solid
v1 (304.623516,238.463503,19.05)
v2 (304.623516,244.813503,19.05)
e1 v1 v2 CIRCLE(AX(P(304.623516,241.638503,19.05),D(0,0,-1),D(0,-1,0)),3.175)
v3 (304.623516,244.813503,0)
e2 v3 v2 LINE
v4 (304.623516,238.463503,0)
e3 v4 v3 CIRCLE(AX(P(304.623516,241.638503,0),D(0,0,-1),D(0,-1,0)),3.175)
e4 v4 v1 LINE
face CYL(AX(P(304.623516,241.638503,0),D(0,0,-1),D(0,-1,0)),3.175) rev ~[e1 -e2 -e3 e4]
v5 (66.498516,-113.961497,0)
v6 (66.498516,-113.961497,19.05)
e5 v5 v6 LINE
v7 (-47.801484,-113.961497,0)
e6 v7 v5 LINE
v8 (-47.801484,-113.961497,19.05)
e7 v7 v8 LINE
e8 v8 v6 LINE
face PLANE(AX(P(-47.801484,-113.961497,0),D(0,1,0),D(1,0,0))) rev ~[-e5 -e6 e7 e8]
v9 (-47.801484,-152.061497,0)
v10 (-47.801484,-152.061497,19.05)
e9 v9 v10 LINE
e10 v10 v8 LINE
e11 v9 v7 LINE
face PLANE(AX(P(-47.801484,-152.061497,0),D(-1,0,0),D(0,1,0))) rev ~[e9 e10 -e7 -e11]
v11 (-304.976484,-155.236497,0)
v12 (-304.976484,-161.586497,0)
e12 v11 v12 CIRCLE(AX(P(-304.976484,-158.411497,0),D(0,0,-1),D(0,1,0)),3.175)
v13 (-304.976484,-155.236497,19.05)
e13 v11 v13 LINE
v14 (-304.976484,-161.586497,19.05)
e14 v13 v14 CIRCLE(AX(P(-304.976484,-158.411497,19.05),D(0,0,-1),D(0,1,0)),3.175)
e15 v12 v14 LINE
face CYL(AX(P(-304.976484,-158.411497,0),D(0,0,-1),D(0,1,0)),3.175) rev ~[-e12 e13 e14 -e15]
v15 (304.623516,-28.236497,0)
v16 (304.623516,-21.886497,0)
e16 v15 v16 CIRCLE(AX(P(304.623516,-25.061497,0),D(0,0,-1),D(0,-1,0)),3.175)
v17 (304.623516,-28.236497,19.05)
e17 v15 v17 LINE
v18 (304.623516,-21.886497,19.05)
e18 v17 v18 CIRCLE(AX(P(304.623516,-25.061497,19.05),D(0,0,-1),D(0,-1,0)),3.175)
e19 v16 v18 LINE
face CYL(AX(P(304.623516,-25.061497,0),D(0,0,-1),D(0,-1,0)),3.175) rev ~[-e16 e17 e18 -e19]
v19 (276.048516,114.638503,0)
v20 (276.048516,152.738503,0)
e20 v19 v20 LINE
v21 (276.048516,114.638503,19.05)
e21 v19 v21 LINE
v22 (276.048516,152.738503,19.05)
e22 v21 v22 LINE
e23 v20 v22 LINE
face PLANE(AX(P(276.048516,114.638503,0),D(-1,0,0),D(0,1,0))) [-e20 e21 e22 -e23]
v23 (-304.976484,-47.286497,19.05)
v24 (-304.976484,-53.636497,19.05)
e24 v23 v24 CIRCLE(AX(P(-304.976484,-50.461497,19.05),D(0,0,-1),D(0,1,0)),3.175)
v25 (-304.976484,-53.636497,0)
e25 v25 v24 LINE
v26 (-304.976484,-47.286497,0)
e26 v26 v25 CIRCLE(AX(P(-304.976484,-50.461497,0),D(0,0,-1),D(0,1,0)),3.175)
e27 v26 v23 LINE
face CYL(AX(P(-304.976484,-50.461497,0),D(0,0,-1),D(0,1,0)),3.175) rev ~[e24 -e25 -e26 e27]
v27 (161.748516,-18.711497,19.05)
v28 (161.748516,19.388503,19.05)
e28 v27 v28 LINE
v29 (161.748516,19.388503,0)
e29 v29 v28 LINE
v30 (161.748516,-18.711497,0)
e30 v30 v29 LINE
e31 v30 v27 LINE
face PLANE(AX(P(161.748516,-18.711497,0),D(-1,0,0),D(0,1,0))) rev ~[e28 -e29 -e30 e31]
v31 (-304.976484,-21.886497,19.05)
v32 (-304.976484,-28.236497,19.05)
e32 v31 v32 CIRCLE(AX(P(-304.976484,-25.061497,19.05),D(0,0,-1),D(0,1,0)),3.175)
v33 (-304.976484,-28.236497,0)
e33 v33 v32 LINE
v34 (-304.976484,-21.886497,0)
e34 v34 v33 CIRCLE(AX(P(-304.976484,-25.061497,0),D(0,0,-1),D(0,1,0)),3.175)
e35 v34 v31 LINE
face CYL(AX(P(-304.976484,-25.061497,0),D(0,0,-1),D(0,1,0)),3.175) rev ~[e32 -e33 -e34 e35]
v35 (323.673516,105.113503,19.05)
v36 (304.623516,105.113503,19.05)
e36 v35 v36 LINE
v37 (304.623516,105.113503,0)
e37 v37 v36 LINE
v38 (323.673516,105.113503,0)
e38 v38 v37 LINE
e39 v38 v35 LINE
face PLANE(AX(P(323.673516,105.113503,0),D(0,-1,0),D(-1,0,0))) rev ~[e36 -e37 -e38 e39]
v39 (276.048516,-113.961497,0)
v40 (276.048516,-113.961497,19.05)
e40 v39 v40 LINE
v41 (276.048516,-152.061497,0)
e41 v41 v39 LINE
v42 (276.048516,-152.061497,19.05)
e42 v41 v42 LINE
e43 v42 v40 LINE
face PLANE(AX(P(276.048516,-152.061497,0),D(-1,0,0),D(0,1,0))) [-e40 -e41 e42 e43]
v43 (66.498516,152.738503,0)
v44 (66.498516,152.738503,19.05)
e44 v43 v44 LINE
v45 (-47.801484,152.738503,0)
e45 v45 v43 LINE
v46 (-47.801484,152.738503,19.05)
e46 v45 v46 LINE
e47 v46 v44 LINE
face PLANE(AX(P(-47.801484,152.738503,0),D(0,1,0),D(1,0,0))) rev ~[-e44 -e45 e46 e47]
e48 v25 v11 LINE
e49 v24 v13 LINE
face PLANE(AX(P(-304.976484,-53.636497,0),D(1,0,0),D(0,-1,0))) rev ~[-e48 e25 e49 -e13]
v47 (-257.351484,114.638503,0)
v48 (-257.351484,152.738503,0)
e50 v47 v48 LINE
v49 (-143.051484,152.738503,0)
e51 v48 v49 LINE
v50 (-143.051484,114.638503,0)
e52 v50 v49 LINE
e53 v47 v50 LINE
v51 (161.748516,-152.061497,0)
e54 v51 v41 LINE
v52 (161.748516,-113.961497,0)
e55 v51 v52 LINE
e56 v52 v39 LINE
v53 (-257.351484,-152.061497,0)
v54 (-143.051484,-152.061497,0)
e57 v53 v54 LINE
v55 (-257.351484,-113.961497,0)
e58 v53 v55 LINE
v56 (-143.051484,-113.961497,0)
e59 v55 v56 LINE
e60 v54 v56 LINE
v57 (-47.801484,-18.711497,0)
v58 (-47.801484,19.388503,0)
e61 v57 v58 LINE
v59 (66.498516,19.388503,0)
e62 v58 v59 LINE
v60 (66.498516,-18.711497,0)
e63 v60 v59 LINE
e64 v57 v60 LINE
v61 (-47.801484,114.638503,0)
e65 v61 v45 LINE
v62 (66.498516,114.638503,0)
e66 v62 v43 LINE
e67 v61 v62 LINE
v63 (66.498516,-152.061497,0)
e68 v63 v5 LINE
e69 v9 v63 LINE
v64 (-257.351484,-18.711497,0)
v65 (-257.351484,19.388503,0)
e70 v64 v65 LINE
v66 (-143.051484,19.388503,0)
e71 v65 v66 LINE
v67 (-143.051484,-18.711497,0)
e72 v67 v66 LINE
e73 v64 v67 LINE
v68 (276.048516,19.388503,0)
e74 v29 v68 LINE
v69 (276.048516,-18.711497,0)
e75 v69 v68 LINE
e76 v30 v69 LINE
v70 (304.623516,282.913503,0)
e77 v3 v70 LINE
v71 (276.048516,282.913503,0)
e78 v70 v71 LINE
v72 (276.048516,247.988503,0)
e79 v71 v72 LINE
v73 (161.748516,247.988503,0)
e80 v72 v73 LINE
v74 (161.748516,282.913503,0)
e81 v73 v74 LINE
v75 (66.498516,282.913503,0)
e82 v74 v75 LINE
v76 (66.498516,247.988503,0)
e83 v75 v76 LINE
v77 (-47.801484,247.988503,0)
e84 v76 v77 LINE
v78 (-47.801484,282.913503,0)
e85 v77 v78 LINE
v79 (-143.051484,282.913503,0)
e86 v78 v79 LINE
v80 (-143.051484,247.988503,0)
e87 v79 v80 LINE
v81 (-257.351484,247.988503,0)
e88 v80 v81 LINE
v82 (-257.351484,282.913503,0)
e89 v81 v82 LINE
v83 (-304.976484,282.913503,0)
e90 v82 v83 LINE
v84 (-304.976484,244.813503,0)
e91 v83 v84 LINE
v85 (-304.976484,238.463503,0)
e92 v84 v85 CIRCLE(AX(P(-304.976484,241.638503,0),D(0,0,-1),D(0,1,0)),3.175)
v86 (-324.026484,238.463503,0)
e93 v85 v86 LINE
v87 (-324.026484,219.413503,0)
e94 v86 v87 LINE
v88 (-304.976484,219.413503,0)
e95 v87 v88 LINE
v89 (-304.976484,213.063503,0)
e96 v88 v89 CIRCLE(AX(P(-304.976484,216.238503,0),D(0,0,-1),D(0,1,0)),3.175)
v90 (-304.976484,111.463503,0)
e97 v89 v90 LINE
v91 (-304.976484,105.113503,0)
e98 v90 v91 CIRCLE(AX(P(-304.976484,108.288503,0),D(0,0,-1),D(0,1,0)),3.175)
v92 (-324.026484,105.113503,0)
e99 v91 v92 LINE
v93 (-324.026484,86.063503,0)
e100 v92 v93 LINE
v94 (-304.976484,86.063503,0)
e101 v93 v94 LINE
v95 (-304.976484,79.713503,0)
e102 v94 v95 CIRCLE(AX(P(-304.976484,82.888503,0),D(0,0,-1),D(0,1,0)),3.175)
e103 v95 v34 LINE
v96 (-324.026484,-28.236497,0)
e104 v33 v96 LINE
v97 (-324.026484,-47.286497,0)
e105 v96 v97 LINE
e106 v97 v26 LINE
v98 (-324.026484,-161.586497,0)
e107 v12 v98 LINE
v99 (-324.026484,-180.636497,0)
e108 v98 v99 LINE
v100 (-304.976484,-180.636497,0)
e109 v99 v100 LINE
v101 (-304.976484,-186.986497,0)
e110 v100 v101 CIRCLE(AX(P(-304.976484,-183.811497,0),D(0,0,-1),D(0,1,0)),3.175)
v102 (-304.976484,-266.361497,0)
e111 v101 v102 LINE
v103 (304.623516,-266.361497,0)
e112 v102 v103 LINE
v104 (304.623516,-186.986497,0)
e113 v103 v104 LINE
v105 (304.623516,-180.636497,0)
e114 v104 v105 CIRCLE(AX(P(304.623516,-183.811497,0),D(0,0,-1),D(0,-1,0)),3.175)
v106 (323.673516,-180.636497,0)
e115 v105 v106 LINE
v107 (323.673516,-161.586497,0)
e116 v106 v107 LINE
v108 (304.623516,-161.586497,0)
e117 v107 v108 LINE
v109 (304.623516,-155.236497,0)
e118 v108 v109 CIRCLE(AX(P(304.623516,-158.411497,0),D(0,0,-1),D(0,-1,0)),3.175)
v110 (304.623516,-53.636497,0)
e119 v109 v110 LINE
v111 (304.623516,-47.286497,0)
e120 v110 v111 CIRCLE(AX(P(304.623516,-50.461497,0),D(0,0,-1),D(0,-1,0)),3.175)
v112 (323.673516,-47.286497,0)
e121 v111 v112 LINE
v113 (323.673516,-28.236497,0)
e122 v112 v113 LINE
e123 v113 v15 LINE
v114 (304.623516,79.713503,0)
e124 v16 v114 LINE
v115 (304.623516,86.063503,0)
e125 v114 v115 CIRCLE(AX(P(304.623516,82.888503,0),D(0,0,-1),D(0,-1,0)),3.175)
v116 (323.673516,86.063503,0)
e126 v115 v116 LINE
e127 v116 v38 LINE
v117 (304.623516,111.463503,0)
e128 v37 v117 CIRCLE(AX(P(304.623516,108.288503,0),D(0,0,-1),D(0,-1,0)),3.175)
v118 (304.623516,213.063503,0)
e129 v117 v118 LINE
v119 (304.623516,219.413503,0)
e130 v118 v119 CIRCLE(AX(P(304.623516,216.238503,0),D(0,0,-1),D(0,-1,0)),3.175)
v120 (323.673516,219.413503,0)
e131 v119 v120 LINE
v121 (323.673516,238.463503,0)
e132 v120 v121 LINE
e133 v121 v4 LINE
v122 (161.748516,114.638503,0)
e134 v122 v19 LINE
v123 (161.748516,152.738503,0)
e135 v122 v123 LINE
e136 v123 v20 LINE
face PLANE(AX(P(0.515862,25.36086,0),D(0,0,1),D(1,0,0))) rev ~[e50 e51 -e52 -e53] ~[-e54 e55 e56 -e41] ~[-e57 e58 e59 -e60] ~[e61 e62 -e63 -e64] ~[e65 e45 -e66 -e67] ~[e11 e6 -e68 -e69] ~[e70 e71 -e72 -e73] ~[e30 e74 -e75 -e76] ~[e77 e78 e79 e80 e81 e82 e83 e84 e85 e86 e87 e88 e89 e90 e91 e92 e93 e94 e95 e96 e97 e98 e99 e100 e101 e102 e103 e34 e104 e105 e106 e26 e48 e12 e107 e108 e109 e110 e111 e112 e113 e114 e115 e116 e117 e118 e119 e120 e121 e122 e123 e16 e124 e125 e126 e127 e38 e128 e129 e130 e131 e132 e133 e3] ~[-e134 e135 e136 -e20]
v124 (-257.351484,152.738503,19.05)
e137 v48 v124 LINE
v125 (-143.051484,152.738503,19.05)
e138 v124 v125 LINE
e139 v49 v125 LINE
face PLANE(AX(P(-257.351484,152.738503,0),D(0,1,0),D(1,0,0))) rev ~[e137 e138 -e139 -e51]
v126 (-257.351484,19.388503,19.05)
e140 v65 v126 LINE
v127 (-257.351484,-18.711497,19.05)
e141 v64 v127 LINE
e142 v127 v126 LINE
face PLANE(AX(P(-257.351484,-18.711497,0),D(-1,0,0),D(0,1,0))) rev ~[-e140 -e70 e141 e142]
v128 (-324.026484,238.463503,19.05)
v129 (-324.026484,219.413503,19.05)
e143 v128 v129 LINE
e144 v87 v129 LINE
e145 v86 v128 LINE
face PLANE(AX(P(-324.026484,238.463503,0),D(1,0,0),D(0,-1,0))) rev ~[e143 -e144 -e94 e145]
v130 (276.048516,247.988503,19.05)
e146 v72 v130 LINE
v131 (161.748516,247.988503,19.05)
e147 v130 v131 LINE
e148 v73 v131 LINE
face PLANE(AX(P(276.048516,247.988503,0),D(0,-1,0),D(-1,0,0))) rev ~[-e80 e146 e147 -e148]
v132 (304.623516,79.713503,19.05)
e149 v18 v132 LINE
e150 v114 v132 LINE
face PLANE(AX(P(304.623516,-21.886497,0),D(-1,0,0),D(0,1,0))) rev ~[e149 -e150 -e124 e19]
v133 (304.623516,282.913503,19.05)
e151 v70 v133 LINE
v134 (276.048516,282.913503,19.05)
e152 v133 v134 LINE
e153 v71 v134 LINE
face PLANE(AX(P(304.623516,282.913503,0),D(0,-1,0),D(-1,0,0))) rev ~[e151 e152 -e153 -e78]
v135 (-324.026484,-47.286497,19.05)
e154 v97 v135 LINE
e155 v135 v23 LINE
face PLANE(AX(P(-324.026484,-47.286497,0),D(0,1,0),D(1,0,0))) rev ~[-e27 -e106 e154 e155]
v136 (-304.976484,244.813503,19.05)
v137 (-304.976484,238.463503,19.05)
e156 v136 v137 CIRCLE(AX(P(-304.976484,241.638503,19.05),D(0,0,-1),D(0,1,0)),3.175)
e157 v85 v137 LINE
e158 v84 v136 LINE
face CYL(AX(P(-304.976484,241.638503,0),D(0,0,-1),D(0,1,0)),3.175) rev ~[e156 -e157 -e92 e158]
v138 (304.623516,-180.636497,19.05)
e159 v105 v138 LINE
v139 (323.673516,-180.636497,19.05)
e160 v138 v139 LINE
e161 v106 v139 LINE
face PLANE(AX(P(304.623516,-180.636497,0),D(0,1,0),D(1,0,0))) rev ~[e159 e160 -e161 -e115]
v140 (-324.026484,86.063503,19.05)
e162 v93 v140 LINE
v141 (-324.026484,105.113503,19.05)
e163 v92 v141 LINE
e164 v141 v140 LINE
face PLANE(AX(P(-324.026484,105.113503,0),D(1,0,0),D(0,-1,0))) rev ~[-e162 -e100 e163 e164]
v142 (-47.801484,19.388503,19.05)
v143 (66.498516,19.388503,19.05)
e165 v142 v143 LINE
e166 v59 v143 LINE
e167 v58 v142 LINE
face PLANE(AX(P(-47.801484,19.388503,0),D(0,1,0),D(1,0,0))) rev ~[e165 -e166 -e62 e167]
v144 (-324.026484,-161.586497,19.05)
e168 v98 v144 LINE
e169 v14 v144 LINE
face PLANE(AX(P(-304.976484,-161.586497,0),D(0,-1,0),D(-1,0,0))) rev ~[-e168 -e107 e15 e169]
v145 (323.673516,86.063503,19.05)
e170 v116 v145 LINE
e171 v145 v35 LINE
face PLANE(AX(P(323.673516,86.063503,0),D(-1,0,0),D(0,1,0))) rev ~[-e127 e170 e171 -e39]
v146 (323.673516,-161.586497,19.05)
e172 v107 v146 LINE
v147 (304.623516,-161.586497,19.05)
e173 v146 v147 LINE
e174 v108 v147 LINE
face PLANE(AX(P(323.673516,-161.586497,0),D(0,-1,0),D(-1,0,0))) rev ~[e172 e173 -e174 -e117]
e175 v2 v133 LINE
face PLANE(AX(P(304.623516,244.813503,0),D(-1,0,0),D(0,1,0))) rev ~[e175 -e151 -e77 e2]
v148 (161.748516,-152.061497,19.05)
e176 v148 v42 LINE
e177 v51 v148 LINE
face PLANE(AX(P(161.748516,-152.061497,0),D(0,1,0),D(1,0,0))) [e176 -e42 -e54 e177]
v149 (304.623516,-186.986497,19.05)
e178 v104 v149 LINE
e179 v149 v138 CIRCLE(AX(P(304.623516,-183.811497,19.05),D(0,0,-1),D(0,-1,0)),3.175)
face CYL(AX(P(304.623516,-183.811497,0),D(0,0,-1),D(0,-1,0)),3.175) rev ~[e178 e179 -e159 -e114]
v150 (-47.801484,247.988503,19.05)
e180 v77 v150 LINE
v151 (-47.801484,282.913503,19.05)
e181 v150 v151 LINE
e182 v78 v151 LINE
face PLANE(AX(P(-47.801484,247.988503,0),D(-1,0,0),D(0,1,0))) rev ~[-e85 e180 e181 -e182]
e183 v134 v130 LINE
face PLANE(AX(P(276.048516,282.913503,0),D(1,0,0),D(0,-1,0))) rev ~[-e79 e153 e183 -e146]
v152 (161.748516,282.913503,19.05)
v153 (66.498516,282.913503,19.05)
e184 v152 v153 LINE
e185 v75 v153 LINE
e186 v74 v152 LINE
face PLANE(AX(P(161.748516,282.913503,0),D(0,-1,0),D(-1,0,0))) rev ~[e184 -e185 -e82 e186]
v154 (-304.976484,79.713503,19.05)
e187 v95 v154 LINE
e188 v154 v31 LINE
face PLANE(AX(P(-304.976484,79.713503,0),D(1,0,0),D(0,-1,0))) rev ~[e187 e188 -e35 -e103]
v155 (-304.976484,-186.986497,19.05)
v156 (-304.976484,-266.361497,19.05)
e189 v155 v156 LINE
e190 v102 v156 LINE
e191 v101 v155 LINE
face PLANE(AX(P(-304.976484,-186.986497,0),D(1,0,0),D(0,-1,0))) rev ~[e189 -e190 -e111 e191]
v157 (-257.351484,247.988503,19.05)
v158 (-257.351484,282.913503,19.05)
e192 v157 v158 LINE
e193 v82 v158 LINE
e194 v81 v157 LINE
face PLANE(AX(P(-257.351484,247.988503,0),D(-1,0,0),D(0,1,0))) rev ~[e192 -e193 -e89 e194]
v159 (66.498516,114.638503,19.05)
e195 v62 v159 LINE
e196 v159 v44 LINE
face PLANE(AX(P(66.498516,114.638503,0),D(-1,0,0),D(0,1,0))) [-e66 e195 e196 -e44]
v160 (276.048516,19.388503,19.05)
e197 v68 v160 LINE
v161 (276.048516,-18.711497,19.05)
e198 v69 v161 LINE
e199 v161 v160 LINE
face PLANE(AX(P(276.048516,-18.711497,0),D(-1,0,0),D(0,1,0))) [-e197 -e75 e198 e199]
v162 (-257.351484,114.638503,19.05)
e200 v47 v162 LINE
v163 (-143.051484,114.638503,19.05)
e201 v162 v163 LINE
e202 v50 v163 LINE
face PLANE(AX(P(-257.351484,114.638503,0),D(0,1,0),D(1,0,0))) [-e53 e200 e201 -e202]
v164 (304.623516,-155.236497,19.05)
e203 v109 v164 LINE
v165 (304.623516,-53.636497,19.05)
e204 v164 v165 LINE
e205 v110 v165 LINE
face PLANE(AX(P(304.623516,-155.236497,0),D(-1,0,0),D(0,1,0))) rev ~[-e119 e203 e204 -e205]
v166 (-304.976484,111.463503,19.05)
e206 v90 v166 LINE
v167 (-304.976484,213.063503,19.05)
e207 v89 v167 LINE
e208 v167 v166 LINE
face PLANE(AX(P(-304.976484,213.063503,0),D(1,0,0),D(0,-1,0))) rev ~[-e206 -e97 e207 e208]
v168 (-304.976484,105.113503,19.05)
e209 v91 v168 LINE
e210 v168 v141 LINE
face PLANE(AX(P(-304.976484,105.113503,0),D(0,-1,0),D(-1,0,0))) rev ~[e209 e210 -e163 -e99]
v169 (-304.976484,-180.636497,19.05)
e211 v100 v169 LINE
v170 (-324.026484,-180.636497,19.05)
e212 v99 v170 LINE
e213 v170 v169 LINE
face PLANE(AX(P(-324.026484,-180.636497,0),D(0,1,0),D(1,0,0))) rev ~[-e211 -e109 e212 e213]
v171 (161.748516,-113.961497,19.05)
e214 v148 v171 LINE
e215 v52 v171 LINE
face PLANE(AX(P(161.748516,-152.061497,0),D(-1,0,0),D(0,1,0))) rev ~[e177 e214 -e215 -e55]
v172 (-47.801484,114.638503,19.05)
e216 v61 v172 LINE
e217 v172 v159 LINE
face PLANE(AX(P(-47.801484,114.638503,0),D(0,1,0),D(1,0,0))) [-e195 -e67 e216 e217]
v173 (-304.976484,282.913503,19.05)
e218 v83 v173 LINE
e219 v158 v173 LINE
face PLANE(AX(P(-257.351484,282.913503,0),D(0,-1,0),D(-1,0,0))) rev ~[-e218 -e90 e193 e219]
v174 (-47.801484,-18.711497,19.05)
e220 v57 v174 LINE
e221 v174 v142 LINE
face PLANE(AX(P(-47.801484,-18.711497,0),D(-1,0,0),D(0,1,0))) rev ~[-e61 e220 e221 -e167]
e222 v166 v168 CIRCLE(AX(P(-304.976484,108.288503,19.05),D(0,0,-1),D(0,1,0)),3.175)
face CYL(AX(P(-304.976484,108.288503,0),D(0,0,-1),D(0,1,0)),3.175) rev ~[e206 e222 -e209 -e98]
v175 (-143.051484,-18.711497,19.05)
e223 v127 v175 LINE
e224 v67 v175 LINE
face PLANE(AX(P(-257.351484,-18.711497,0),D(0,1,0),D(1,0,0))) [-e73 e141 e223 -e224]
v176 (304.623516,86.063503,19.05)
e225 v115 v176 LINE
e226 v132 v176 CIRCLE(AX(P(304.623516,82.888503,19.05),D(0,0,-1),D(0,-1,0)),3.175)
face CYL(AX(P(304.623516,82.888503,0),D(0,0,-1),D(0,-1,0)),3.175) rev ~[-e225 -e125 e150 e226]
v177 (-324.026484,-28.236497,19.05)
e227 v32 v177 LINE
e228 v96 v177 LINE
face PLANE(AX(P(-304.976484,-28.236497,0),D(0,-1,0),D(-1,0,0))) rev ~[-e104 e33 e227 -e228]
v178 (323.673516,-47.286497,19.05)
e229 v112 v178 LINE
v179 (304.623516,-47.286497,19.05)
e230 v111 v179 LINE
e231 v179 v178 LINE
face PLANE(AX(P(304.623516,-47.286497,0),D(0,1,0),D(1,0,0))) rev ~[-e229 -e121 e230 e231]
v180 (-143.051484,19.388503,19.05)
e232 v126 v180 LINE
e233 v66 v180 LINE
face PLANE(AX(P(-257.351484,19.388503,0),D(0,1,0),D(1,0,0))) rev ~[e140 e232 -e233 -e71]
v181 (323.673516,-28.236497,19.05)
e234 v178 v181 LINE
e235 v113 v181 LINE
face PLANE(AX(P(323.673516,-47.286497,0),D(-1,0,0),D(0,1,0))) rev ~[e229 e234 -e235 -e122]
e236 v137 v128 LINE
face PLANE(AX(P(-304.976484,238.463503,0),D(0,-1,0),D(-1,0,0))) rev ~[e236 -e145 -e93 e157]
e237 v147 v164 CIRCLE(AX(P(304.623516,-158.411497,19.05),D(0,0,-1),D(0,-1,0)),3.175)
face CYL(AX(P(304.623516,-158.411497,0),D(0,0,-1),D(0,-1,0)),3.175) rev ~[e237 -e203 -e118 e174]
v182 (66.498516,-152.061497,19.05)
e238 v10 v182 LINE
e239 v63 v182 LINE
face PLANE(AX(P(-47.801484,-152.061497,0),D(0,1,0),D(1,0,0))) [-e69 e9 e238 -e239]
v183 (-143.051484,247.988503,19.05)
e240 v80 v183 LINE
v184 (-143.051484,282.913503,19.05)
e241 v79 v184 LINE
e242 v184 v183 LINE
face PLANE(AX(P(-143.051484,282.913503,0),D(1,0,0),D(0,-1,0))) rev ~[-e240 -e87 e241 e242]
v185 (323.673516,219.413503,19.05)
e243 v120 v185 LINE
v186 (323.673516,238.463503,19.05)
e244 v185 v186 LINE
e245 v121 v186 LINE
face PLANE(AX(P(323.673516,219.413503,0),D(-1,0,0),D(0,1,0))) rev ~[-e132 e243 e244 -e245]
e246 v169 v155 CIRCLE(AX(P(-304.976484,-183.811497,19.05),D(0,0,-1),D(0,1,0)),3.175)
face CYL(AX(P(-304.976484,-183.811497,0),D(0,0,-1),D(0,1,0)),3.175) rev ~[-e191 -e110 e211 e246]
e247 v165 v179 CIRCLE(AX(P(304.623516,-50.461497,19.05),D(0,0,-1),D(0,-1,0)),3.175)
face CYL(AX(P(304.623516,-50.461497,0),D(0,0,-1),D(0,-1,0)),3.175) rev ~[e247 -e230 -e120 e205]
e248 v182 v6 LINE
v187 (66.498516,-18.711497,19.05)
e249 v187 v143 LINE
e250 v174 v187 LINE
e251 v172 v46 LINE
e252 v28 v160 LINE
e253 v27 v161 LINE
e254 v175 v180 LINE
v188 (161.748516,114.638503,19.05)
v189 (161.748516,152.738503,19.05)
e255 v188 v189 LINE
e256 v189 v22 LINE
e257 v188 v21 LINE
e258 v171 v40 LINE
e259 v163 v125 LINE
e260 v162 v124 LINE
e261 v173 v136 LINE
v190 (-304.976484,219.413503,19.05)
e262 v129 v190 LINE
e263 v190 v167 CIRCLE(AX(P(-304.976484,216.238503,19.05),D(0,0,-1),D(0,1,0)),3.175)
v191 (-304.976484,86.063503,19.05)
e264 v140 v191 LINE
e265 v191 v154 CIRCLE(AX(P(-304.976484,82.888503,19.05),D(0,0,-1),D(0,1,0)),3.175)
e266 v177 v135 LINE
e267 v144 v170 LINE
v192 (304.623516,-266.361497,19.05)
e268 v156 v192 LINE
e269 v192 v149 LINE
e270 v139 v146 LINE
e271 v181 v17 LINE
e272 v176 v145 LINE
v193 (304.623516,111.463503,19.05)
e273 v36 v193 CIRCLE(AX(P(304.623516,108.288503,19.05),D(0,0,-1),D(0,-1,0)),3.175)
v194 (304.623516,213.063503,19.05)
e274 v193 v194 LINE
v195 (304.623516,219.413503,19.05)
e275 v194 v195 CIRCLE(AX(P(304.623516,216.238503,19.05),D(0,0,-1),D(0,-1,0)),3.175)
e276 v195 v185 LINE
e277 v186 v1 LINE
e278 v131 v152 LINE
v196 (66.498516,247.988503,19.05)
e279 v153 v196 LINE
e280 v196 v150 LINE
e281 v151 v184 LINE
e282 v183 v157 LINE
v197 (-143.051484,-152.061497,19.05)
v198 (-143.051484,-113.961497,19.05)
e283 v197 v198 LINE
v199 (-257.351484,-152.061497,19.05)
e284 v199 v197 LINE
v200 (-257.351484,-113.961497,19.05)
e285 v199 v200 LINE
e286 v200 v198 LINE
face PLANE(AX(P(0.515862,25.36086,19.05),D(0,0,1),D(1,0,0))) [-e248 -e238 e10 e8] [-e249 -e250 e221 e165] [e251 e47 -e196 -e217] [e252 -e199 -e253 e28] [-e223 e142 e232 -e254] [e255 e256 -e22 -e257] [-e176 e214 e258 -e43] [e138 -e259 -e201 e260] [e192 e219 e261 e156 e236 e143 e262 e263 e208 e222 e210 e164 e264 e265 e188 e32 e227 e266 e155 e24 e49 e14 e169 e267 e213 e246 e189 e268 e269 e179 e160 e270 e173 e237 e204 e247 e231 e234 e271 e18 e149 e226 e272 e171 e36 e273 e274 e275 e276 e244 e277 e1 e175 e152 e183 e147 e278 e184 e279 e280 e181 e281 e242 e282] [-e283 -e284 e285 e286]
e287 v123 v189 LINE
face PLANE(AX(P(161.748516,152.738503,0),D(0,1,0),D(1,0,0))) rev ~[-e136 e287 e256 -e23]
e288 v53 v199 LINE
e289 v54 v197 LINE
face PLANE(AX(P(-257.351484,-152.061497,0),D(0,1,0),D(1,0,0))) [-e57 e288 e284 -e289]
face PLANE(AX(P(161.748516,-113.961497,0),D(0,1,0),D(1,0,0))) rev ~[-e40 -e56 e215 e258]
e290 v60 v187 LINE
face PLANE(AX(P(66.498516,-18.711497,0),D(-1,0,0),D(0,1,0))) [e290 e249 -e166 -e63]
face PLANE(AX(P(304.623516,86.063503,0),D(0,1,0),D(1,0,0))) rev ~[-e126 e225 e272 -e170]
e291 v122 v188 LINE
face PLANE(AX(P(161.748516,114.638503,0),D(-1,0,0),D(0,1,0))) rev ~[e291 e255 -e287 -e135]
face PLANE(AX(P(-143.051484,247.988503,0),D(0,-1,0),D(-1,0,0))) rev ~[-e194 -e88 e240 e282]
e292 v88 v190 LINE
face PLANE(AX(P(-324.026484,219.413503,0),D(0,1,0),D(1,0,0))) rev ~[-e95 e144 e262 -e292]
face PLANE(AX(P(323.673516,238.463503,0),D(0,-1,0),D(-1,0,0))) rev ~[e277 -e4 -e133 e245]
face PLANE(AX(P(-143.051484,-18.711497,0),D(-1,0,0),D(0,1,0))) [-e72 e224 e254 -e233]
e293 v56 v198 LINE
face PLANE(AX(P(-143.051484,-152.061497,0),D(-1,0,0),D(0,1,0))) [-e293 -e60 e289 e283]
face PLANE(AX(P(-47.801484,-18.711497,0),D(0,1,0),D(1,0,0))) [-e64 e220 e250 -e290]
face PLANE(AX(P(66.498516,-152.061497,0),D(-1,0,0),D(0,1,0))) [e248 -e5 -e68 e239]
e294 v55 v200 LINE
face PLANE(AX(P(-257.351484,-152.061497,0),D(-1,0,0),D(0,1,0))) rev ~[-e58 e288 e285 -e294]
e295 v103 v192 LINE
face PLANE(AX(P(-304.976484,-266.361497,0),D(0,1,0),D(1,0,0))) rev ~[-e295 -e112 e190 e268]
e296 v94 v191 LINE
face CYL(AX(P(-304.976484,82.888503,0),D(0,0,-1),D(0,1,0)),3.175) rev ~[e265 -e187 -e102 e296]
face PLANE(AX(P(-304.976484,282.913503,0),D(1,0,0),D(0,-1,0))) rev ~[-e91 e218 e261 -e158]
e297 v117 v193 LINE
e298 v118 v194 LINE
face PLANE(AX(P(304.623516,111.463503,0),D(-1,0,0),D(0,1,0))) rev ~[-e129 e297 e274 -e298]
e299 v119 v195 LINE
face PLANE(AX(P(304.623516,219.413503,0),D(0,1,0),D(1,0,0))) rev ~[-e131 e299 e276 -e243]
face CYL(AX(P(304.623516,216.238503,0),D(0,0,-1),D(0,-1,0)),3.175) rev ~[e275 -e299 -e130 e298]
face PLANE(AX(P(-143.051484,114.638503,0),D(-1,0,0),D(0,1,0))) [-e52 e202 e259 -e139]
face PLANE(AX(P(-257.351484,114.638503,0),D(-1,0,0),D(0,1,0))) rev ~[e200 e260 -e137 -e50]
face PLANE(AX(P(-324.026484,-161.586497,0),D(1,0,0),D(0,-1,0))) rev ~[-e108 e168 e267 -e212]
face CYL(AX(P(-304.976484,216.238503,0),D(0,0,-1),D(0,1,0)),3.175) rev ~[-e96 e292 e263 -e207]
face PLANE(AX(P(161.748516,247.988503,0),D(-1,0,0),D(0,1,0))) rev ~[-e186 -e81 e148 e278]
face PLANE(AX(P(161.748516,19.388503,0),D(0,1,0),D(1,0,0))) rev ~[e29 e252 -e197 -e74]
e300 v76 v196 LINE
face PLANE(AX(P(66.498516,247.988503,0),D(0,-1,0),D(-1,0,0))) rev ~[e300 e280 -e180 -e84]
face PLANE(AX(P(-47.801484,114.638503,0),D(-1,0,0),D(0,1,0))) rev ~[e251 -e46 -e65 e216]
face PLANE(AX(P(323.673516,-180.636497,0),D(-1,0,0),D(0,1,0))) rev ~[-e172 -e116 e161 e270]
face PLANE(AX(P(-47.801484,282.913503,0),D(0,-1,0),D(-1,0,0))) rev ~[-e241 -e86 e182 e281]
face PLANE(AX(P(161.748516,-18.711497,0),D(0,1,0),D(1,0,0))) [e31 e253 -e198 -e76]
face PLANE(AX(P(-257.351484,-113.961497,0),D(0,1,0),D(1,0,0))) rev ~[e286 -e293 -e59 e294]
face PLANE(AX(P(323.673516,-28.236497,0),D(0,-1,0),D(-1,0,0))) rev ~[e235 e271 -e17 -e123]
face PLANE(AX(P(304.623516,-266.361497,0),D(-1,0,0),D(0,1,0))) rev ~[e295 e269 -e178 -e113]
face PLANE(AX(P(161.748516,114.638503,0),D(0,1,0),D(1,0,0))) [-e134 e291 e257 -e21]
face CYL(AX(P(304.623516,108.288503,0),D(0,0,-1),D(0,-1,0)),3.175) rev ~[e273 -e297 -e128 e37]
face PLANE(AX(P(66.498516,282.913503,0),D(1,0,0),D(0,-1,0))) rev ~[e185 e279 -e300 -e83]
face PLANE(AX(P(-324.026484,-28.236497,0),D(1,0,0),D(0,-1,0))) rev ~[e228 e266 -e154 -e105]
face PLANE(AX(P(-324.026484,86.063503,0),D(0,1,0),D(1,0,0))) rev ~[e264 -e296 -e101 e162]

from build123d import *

# Parameters (mm, degrees)
SKETCH8_W           = 114.3
SKETCH8_H           = 38.1
BOSS_EXTRUDE3_DEPTH = 19.05


with BuildPart() as part:
    # Sketch8 → Boss-Extrude3 (new body)
    with BuildSketch(Plane.XY):
        with BuildLine():
            Line((-257.351483657, 282.913503235), (-304.976483657, 282.913503235))
            Line((-304.976483657, 282.913503235), (-304.976483657, 244.813503235))
            ThreePointArc((-304.976483657, 244.813503235), (-301.801483657, 241.638503235), (-304.976483657, 238.463503235))
            Line((-304.976483657, 238.463503235), (-324.026483657, 238.463503235))
            Line((-324.026483657, 238.463503235), (-324.026483657, 219.413503235))
            Line((-324.026483657, 219.413503235), (-304.976483657, 219.413503235))
            ThreePointArc((-304.976483657, 219.413503235), (-301.801483657, 216.238503235), (-304.976483657, 213.063503235))
            Line((-304.976483657, 213.063503235), (-304.976483657, 111.463503235))
            ThreePointArc((-304.976483657, 111.463503235), (-301.801483657, 108.288503235), (-304.976483657, 105.113503235))
            Line((-304.976483657, 105.113503235), (-324.026483657, 105.113503235))
            Line((-324.026483657, 105.113503235), (-324.026483657, 86.063503235))
            Line((-324.026483657, 86.063503235), (-304.976483657, 86.063503235))
            ThreePointArc((-304.976483657, 86.063503235), (-301.801483657, 82.888503235), (-304.976483657, 79.713503235))
            Line((-304.976483657, 79.713503235), (-304.976483657, -21.886496765))
            ThreePointArc((-304.976483657, -21.886496765), (-301.801483657, -25.061496765), (-304.976483657, -28.236496765))
            Line((-304.976483657, -28.236496765), (-324.026483657, -28.236496765))
            Line((-324.026483657, -28.236496765), (-324.026483657, -47.286496765))
            Line((-324.026483657, -47.286496765), (-304.976483657, -47.286496765))
            ThreePointArc((-304.976483657, -47.286496765), (-301.801483657, -50.461496765), (-304.976483657, -53.636496765))
            Line((-304.976483657, -53.636496765), (-304.976483657, -155.236496765))
            ThreePointArc((-304.976483657, -155.236496765), (-301.801483657, -158.411496765), (-304.976483657, -161.586496765))
            Line((-304.976483657, -161.586496765), (-324.026483657, -161.586496765))
            Line((-324.026483657, -161.586496765), (-324.026483657, -180.636496765))
            Line((-324.026483657, -180.636496765), (-304.976483657, -180.636496765))
            ThreePointArc((-304.976483657, -180.636496765), (-301.801483657, -183.811496765), (-304.976483657, -186.986496765))
            Line((-304.976483657, -186.986496765), (-304.976483657, -266.361496765))
            Line((-304.976483657, -266.361496765), (304.623516343, -266.361496765))
            Line((304.623516343, -266.361496765), (304.623516343, -186.986496765))
            ThreePointArc((304.623516343, -186.986496765), (301.448516343, -183.811496765), (304.623516343, -180.636496765))
            Line((304.623516343, -180.636496765), (323.673516343, -180.636496765))
            Line((323.673516343, -180.636496765), (323.673516343, -161.586496765))
            Line((323.673516343, -161.586496765), (304.623516343, -161.586496765))
            ThreePointArc((304.623516343, -161.586496765), (301.448516343, -158.411496765), (304.623516343, -155.236496765))
            Line((304.623516343, -155.236496765), (304.623516343, -53.636496765))
            ThreePointArc((304.623516343, -53.636496765), (301.448516343, -50.461496765), (304.623516343, -47.286496765))
            Line((304.623516343, -47.286496765), (323.673516343, -47.286496765))
            Line((323.673516343, -47.286496765), (323.673516343, -28.236496765))
            Line((323.673516343, -28.236496765), (304.623516343, -28.236496765))
            ThreePointArc((304.623516343, -28.236496765), (301.448516343, -25.061496765), (304.623516343, -21.886496765))
            Line((304.623516343, -21.886496765), (304.623516343, 79.713503235))
            ThreePointArc((304.623516343, 79.713503235), (301.448516343, 82.888503235), (304.623516343, 86.063503235))
            Line((304.623516343, 86.063503235), (323.673516343, 86.063503235))
            Line((323.673516343, 86.063503235), (323.673516343, 105.113503235))
            Line((323.673516343, 105.113503235), (304.623516343, 105.113503235))
            ThreePointArc((304.623516343, 105.113503235), (301.448516343, 108.288503235), (304.623516343, 111.463503235))
            Line((304.623516343, 111.463503235), (304.623516343, 213.063503235))
            ThreePointArc((304.623516343, 213.063503235), (301.448516343, 216.238503235), (304.623516343, 219.413503235))
            Line((304.623516343, 219.413503235), (323.673516343, 219.413503235))
            Line((323.673516343, 219.413503235), (323.673516343, 238.463503235))
            Line((323.673516343, 238.463503235), (304.623516343, 238.463503235))
            ThreePointArc((304.623516343, 238.463503235), (301.448516343, 241.638503235), (304.623516343, 244.813503235))
            Line((304.623516343, 244.813503235), (304.623516343, 282.913503235))
            Line((304.623516343, 282.913503235), (276.048516343, 282.913503235))
            Line((276.048516343, 282.913503235), (276.048516343, 247.988503235))
            Line((276.048516343, 247.988503235), (161.748516343, 247.988503235))
            Line((161.748516343, 247.988503235), (161.748516343, 282.913503235))
            Line((161.748516343, 282.913503235), (66.498516343, 282.913503235))
            Line((66.498516343, 282.913503235), (66.498516343, 247.988503235))
            Line((66.498516343, 247.988503235), (-47.801483657, 247.988503235))
            Line((-47.801483657, 247.988503235), (-47.801483657, 282.913503235))
            Line((-47.801483657, 282.913503235), (-143.051483657, 282.913503235))
            Line((-143.051483657, 282.913503235), (-143.051483657, 247.988503235))
            Line((-143.051483657, 247.988503235), (-257.351483657, 247.988503235))
            Line((-257.351483657, 247.988503235), (-257.351483657, 282.913503235))
        make_face()
        with Locations((-200.201483657, -133.011496765)):
            Rectangle(SKETCH8_W, SKETCH8_H, mode=Mode.SUBTRACT)
        with Locations((-200.201483657, 0.338503235)):
            Rectangle(SKETCH8_W, SKETCH8_H, mode=Mode.SUBTRACT)
        with Locations((9.348516343, -133.011496765)):
            Rectangle(SKETCH8_W, SKETCH8_H, mode=Mode.SUBTRACT)
        with Locations((218.898516343, -133.011496765)):
            Rectangle(SKETCH8_W, SKETCH8_H, mode=Mode.SUBTRACT)
        with Locations((9.348516343, 0.338503235)):
            Rectangle(SKETCH8_W, SKETCH8_H, mode=Mode.SUBTRACT)
        with Locations((218.898516343, 0.338503235)):
            Rectangle(SKETCH8_W, SKETCH8_H, mode=Mode.SUBTRACT)
        with Locations((-200.201483657, 133.688503235)):
            Rectangle(SKETCH8_W, SKETCH8_H, mode=Mode.SUBTRACT)
        with Locations((9.348516343, 133.688503235)):
            Rectangle(SKETCH8_W, SKETCH8_H, mode=Mode.SUBTRACT)
        with Locations((218.898516343, 133.688503235)):
            Rectangle(SKETCH8_W, SKETCH8_H, mode=Mode.SUBTRACT)
    extrude(amount=BOSS_EXTRUDE3_DEPTH)


solid = part.part
